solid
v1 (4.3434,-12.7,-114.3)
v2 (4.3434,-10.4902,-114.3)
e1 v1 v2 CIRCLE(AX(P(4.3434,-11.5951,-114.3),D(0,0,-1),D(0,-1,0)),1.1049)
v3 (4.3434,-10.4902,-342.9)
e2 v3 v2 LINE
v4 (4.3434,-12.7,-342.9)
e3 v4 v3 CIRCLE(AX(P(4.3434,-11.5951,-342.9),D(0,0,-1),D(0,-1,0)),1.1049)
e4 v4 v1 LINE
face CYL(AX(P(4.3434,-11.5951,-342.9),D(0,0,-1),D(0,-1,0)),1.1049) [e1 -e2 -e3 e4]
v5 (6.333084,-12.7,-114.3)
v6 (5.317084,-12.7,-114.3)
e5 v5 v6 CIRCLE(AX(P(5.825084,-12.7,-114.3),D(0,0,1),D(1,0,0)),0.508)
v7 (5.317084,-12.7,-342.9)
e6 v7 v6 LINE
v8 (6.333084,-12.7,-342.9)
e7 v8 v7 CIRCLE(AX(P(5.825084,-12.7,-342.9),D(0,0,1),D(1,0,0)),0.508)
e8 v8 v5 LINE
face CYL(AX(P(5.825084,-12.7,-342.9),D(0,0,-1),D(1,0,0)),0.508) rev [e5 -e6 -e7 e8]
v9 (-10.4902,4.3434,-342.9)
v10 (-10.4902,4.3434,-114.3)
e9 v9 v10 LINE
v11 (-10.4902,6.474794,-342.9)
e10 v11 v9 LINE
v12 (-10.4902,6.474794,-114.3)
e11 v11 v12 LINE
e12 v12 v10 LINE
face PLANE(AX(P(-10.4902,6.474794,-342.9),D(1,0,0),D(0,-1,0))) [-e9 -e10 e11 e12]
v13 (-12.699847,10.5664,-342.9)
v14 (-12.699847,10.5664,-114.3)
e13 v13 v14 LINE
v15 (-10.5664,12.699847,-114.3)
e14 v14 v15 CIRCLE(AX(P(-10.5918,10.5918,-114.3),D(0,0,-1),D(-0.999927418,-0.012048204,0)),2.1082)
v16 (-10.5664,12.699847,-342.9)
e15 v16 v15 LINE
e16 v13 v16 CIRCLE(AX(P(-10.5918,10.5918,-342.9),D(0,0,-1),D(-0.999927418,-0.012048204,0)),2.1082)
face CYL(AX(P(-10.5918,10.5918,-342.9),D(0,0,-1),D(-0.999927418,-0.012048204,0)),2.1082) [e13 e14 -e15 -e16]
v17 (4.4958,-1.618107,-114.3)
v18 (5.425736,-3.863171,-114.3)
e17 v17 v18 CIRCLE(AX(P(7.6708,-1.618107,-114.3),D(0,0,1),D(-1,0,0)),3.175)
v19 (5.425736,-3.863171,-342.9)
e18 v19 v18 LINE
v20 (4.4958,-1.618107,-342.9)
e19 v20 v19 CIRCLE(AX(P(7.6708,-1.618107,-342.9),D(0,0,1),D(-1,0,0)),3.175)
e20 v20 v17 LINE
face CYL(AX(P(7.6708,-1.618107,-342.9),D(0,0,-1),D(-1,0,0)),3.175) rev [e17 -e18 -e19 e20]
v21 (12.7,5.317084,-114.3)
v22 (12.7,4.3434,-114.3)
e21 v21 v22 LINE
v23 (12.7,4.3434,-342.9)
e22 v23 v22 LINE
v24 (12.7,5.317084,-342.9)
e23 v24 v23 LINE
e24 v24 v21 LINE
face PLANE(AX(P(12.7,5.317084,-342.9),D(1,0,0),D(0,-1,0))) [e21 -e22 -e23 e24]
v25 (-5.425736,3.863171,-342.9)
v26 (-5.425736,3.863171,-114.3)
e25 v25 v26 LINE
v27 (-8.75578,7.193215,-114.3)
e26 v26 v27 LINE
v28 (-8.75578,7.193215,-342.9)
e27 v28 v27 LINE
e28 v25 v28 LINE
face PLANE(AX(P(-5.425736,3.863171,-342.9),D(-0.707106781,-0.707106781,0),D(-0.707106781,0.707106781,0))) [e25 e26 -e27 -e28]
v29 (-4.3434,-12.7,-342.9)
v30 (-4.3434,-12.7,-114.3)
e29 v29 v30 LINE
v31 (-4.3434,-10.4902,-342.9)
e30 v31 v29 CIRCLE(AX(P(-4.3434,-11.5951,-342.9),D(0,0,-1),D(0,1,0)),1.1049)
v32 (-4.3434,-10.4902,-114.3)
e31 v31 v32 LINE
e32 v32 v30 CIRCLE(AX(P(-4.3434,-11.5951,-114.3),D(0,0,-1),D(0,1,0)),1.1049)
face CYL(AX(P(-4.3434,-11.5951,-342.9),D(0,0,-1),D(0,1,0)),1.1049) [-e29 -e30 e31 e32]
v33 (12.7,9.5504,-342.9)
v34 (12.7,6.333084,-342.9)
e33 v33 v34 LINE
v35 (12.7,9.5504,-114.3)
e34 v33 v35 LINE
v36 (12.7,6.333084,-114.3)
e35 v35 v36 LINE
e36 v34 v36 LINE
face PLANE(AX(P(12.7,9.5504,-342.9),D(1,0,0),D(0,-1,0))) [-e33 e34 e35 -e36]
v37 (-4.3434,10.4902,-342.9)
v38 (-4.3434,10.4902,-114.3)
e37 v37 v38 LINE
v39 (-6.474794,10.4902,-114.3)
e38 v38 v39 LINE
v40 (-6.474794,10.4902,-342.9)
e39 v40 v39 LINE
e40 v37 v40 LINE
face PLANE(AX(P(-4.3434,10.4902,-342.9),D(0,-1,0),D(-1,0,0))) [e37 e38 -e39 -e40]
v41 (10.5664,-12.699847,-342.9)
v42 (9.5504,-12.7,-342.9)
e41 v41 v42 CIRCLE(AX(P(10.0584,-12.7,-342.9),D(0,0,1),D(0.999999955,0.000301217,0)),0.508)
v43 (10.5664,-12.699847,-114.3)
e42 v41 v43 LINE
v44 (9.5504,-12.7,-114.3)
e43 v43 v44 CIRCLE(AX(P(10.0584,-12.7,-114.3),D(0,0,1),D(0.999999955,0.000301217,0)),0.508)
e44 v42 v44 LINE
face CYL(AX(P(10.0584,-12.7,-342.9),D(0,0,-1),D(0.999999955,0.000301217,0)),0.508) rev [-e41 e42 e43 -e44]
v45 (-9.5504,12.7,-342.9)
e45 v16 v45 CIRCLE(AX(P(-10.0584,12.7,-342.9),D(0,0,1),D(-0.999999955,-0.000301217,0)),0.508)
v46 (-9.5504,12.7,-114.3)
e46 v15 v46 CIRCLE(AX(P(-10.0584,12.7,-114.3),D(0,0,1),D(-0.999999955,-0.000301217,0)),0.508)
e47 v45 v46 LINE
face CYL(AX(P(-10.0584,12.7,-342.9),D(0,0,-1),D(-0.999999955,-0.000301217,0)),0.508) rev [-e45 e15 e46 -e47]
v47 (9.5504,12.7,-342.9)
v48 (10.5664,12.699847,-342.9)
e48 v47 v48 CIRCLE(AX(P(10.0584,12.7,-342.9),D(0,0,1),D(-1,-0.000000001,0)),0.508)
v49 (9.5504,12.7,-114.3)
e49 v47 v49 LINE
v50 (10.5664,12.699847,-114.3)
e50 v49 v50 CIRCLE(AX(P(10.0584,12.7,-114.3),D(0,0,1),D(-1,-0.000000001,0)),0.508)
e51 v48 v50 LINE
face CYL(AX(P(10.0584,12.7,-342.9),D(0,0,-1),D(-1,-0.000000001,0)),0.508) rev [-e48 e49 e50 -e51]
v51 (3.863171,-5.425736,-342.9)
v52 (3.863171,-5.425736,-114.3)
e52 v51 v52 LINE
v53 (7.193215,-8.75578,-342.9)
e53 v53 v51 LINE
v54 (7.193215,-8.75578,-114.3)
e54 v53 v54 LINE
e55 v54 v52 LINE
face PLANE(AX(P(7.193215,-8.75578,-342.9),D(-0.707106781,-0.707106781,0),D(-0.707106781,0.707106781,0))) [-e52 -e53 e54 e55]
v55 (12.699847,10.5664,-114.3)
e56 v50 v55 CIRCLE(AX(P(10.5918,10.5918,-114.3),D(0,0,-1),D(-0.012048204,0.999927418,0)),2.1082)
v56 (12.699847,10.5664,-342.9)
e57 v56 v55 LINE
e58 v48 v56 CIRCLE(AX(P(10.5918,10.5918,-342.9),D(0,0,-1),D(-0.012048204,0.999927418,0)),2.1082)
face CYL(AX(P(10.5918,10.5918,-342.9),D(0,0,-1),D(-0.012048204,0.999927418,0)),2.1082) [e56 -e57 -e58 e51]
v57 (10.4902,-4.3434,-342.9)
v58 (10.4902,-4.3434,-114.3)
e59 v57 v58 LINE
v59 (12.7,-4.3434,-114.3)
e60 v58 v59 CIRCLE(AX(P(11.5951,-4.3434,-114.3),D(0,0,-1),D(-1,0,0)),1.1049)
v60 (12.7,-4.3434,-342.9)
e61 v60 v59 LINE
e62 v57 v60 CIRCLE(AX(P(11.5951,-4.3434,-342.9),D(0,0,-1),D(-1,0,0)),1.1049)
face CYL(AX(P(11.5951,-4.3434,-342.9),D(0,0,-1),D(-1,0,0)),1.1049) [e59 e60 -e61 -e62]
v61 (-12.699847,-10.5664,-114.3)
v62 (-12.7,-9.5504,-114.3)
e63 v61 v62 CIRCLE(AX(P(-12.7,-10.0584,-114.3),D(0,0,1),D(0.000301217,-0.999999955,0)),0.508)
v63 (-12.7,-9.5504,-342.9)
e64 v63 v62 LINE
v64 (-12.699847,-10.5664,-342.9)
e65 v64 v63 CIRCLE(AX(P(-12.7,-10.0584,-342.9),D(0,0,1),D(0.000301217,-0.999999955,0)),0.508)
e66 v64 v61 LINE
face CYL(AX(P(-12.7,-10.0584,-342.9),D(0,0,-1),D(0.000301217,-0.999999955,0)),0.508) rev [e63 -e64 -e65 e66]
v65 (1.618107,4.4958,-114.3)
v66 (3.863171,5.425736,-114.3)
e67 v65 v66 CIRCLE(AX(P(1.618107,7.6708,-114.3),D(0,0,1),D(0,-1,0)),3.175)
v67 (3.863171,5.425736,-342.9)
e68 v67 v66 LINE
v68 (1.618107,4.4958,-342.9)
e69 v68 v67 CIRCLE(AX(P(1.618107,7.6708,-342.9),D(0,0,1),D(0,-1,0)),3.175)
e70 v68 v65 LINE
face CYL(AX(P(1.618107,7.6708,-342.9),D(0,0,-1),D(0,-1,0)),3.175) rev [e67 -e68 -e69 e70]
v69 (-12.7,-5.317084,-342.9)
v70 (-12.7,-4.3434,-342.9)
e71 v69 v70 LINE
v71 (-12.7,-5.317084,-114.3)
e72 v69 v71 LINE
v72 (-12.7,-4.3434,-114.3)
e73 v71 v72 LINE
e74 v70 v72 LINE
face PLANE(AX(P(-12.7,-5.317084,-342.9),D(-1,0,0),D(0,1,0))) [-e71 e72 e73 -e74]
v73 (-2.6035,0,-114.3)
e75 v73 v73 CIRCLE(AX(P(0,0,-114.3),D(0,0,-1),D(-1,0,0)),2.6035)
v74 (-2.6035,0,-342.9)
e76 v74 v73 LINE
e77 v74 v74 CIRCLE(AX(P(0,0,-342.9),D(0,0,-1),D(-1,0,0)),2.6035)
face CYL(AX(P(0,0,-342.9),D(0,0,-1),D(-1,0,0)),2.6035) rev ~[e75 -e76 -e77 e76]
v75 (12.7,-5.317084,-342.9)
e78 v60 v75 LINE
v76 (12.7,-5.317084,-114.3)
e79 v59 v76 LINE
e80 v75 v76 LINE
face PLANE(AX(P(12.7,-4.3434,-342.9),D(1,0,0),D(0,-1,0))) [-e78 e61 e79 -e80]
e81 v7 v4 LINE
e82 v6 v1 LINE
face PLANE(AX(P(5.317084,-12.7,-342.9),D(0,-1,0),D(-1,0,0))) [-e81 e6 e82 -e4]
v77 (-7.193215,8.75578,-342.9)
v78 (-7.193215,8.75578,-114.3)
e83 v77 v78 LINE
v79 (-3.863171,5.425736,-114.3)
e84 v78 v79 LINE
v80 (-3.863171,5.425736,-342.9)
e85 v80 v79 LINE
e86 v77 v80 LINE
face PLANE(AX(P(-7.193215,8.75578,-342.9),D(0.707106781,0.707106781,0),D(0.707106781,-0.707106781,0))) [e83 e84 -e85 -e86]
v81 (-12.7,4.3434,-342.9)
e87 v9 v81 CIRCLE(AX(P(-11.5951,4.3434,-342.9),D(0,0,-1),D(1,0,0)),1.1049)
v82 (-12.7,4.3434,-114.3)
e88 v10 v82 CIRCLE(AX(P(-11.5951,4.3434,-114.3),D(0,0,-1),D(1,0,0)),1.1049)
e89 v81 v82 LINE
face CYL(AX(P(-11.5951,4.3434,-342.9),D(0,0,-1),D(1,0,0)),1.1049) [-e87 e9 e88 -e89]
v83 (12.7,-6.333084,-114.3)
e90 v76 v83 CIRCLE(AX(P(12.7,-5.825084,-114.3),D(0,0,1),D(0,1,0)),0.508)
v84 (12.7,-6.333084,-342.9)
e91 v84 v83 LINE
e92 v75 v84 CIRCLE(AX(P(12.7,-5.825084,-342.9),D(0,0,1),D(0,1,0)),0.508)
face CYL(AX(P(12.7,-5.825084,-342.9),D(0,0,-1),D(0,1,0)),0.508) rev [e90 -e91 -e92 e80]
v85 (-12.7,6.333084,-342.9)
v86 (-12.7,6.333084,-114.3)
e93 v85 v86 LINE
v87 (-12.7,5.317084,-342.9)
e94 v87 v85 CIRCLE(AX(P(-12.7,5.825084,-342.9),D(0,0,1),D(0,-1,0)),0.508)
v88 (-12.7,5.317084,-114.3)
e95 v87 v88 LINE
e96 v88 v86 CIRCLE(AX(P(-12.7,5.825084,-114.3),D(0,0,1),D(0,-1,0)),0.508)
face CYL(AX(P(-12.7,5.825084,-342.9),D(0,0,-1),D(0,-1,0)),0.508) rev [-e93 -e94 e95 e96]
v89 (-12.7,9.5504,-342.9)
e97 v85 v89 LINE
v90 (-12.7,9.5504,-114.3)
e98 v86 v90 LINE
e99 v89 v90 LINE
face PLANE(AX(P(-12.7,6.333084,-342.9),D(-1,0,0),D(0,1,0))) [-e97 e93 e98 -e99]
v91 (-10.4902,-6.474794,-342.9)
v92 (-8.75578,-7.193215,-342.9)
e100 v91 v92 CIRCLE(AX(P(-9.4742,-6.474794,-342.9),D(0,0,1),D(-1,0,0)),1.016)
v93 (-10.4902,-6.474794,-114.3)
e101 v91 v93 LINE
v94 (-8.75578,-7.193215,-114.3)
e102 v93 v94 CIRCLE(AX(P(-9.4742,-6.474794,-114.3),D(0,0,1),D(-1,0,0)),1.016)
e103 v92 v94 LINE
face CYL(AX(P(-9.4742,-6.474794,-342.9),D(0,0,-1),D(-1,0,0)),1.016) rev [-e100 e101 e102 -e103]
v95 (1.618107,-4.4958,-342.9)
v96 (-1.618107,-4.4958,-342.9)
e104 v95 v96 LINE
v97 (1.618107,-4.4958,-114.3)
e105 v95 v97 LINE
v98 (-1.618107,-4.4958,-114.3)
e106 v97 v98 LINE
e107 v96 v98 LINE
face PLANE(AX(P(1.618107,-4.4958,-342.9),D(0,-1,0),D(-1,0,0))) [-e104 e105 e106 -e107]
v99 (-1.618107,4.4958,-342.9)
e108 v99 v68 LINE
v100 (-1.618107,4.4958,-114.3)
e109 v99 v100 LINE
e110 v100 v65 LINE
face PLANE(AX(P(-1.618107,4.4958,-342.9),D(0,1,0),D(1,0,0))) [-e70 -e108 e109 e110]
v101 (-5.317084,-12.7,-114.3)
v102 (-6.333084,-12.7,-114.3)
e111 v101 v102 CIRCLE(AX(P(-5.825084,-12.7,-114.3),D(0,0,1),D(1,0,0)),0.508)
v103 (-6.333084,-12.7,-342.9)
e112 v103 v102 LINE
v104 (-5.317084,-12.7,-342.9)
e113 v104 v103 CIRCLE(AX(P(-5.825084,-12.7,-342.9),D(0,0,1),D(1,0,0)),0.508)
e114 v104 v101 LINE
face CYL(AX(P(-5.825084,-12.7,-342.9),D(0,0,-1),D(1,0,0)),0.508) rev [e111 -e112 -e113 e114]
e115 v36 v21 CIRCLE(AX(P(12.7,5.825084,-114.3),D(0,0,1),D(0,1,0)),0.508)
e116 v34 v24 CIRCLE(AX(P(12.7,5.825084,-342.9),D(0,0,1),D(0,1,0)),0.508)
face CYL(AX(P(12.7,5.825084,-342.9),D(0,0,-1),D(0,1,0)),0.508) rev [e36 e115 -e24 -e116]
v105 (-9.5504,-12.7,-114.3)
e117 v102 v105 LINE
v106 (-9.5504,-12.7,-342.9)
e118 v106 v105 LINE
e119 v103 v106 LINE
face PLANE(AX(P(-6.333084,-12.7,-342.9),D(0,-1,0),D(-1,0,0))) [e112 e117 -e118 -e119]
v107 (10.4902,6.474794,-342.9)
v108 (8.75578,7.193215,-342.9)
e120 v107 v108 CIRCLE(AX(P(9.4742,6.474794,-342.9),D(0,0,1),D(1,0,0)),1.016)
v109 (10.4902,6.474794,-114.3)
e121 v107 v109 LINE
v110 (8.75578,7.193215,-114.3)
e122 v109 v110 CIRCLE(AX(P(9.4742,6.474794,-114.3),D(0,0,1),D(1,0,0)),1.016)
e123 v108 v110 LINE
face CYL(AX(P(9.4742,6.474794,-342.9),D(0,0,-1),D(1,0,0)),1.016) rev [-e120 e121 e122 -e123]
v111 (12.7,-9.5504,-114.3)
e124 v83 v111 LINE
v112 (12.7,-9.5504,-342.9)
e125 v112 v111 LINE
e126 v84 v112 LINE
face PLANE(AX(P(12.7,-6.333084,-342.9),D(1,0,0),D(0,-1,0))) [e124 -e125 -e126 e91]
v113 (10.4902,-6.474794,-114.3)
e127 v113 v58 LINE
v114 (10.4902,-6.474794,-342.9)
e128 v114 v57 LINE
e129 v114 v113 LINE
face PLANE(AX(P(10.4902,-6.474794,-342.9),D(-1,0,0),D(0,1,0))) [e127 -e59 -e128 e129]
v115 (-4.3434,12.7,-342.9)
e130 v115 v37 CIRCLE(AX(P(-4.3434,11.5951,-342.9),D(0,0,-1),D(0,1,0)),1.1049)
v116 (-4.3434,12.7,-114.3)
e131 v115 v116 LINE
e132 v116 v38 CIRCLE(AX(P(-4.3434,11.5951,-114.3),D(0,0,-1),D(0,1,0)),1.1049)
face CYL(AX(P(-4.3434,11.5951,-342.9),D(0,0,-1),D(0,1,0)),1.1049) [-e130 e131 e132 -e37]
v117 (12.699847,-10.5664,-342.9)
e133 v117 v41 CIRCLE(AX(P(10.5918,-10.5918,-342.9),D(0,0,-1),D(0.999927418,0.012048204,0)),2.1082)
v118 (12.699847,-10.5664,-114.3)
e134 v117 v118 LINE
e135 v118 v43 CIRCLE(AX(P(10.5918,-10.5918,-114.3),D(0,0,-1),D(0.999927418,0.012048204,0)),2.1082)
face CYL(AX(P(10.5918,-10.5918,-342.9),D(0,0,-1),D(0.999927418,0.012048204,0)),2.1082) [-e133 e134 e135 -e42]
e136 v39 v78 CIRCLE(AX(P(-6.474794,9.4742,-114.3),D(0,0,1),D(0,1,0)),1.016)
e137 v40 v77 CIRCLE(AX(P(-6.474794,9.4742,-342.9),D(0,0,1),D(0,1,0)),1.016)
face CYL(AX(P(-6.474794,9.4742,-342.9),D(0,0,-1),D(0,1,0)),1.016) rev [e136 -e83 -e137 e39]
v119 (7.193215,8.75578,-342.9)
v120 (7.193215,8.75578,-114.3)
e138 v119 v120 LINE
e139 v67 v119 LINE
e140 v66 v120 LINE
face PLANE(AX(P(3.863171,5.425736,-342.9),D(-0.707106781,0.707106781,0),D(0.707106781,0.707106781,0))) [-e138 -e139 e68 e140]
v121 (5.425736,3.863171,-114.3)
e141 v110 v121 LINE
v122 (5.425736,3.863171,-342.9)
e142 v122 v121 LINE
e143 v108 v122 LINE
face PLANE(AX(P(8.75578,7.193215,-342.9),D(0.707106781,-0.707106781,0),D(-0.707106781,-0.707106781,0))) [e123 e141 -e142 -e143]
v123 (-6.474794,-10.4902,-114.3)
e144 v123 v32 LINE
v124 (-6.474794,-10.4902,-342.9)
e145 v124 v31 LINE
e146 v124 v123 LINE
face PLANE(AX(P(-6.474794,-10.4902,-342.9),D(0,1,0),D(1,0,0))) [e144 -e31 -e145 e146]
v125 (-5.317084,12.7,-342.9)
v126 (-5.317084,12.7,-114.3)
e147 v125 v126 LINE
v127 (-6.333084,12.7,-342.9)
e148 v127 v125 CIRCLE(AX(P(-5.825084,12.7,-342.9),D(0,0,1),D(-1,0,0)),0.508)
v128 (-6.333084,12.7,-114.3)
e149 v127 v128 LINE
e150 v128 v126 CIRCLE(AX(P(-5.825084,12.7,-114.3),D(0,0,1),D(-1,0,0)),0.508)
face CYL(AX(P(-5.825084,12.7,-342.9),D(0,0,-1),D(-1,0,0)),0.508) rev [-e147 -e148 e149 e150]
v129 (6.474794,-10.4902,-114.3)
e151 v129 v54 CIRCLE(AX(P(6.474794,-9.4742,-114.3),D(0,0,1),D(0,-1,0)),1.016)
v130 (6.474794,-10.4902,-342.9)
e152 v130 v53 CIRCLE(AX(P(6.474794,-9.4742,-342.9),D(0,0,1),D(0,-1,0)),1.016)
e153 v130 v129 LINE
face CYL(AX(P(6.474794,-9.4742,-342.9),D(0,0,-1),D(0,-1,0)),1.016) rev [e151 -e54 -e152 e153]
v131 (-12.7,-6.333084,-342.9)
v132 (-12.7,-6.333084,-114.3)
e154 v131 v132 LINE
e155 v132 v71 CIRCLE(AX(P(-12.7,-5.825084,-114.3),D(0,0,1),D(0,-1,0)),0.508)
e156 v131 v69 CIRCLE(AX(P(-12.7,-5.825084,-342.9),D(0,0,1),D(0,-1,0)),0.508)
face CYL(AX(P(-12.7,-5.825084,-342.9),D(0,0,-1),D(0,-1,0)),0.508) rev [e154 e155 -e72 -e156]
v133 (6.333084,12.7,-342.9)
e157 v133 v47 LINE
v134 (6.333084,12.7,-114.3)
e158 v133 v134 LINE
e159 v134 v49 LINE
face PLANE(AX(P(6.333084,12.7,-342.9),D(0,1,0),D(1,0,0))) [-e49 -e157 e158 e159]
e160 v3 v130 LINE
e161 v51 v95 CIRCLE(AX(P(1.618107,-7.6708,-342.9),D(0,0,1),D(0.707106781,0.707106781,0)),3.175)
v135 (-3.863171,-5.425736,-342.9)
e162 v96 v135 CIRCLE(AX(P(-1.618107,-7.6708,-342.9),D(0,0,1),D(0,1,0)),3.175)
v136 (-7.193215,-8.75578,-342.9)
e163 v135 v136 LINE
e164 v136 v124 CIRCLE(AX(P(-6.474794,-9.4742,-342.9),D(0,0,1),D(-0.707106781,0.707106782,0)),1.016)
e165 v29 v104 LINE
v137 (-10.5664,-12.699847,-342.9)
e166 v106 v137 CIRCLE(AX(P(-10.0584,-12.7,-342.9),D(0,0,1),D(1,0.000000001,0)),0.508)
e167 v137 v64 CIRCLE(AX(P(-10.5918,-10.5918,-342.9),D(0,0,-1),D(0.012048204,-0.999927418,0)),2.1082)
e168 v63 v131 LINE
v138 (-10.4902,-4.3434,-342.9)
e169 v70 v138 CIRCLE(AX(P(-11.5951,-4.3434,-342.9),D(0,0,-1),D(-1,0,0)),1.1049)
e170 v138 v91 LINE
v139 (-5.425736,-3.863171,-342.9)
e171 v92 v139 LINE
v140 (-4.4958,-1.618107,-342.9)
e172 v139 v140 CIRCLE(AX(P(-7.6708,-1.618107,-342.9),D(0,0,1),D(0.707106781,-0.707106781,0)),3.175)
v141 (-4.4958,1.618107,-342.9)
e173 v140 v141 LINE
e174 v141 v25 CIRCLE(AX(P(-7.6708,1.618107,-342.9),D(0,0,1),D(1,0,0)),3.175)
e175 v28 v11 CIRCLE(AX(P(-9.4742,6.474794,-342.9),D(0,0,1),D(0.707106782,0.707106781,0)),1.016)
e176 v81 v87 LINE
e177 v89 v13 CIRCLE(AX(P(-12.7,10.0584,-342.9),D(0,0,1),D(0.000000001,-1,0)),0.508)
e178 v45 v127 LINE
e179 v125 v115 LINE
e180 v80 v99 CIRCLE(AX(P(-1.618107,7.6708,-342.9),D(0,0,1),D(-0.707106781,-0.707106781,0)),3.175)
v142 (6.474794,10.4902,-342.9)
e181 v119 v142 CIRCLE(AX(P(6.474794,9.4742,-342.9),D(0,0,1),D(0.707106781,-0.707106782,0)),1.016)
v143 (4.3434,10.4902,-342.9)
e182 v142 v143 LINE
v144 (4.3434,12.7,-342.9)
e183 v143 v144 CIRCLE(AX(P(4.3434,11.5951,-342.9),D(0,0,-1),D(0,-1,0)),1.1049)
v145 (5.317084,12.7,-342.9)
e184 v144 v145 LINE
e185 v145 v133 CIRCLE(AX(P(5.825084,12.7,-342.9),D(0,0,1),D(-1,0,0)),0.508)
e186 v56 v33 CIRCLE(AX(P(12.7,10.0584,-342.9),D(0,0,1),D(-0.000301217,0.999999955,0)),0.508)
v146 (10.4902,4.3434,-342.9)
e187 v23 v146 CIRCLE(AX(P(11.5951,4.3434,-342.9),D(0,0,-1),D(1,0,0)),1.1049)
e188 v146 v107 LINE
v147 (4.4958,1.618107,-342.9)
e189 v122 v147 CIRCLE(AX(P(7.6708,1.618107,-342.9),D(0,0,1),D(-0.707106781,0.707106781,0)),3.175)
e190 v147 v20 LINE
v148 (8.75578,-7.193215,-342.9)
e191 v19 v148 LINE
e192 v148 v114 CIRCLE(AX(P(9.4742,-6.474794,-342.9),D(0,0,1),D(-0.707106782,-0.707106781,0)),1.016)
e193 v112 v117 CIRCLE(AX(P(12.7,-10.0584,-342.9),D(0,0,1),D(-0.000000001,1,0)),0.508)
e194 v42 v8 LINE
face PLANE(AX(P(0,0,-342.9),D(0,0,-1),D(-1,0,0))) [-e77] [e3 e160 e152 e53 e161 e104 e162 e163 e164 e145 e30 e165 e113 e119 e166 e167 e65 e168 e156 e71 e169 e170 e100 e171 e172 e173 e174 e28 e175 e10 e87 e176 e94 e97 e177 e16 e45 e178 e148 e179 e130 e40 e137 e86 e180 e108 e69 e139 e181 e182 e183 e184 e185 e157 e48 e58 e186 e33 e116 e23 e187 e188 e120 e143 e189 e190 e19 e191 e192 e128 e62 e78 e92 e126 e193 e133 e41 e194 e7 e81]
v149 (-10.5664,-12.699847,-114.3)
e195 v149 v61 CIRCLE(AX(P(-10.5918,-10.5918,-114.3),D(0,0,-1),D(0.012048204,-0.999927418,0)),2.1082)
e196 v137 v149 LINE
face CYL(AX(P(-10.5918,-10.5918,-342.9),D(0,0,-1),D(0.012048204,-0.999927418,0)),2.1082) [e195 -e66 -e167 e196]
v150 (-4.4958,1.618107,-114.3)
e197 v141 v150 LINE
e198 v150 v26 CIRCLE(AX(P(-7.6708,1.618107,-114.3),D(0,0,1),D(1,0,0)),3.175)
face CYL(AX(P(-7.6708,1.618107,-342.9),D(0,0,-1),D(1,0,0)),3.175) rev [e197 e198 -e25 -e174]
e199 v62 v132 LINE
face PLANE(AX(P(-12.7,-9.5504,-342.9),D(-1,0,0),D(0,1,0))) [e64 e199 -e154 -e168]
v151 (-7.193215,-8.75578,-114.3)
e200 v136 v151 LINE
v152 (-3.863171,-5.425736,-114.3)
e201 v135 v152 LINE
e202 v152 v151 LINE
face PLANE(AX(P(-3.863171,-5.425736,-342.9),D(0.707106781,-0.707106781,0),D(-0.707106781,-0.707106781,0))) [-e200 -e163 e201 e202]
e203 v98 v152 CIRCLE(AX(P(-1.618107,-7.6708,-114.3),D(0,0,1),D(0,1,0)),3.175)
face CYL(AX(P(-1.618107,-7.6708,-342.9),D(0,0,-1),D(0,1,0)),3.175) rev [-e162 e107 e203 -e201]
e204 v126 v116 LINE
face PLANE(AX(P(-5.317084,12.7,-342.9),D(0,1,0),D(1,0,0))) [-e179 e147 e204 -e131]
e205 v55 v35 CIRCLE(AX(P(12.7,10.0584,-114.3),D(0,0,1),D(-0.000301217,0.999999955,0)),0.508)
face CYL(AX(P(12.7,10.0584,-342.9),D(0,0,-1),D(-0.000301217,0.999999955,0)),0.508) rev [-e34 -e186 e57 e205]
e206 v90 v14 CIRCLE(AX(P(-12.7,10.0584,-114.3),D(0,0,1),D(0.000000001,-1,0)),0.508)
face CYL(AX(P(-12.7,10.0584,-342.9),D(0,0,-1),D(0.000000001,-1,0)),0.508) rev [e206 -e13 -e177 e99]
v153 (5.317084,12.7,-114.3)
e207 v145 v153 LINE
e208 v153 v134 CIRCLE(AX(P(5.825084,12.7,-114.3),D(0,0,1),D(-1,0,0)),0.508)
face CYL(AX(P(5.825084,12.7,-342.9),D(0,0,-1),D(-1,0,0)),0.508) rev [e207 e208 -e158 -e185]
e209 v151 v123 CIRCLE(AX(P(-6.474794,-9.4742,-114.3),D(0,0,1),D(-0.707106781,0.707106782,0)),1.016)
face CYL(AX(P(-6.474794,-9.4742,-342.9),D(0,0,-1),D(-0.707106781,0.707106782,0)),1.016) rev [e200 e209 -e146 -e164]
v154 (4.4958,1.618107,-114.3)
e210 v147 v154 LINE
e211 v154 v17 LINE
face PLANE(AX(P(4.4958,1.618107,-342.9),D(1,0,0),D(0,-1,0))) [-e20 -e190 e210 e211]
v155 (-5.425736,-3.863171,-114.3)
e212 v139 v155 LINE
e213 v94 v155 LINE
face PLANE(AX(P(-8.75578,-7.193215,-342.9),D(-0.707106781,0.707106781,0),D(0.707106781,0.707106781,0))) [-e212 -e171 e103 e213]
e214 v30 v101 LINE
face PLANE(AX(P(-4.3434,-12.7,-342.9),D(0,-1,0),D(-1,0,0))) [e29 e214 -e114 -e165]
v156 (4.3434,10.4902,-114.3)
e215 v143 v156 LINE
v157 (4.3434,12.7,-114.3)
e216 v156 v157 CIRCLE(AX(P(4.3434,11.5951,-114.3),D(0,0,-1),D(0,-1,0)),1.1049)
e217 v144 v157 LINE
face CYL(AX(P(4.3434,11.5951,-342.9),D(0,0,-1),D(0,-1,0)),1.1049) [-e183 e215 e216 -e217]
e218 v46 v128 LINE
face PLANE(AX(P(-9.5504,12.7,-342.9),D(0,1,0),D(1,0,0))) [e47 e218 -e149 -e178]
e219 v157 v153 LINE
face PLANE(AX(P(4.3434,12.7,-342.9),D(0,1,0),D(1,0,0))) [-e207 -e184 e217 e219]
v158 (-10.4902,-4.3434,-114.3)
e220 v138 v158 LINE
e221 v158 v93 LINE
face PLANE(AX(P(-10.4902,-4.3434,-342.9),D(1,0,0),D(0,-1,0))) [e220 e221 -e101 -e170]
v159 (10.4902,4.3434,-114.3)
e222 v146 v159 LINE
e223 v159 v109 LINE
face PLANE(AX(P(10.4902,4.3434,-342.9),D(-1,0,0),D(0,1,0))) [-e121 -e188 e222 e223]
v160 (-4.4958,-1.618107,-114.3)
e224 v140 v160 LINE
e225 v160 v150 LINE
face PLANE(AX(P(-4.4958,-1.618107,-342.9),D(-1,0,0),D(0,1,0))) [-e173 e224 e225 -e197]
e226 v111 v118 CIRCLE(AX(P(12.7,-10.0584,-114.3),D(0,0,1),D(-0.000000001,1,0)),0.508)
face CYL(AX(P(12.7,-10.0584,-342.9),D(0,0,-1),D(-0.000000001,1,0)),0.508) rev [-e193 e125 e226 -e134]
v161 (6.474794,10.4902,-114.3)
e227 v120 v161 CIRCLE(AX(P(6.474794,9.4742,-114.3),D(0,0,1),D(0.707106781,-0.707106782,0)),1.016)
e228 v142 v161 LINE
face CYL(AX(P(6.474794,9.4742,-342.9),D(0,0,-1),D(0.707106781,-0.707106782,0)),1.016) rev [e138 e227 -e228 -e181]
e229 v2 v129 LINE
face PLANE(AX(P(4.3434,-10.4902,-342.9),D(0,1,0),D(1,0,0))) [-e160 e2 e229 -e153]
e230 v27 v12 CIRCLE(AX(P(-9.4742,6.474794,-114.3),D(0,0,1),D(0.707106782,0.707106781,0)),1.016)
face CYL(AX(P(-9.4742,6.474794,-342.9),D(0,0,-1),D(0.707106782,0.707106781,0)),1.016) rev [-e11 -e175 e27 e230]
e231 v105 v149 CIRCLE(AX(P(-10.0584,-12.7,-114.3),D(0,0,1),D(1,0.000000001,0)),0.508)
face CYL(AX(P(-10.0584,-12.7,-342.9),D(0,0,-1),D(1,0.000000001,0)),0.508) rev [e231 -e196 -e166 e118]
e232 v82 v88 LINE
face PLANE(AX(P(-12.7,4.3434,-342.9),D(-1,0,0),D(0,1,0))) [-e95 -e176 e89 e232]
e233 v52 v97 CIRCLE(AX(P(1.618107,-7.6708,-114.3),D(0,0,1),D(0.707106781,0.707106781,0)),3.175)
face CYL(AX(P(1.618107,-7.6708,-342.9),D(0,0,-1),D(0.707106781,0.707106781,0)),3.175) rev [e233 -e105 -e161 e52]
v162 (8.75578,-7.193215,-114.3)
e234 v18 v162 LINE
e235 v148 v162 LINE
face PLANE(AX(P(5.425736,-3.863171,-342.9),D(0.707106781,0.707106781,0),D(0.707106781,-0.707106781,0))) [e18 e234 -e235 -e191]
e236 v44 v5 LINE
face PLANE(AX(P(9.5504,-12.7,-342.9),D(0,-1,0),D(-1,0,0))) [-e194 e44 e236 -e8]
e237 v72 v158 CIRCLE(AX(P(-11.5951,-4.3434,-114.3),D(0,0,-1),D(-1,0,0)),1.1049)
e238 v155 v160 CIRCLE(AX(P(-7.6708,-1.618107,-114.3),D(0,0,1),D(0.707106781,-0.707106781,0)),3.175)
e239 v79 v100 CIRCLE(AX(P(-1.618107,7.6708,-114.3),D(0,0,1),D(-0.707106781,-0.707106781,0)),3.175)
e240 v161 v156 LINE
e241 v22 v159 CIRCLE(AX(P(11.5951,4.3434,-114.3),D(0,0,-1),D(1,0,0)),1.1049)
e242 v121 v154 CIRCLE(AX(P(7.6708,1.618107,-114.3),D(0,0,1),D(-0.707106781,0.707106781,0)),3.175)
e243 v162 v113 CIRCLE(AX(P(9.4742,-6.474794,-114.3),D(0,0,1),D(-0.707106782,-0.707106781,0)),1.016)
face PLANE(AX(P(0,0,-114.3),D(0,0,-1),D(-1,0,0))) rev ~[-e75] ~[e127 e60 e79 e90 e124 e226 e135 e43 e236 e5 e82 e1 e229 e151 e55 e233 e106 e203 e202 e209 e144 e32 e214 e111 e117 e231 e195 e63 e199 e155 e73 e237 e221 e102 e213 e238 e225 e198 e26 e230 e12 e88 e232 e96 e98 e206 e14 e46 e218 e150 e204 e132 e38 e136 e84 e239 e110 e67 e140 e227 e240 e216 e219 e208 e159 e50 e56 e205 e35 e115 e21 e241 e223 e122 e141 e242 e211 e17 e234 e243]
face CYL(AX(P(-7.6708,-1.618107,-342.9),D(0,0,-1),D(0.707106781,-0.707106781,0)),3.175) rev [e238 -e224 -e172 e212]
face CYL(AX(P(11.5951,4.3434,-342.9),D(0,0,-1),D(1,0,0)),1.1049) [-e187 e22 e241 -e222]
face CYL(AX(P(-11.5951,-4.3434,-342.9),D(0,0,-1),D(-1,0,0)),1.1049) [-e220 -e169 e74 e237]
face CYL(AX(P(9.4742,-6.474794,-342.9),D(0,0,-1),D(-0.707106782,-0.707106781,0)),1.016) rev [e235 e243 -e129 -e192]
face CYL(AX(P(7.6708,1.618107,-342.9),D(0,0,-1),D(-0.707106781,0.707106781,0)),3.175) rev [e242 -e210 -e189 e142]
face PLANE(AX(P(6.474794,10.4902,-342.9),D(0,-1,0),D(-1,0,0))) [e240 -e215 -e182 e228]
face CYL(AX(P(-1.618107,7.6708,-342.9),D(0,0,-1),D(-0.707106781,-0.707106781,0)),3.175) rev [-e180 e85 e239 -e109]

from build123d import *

# Parameters (mm, degrees)
SKETCH1_R           = 2.6035
BOSS_EXTRUDE1_DEPTH = 228.6


with BuildPart() as part:
    # Sketch1 → Boss-Extrude1 (new body)
    with BuildSketch(Plane(origin=(0, 0, -342.9), x_dir=(-1, 0, 0), z_dir=(0, 0, -1))):
        with BuildLine():
            Line((12.7, -9.5504), (12.7, -6.3330836))
            ThreePointArc((12.7, -6.3330836), (12.192, -5.8250836), (12.7, -5.3170836))
            Line((12.7, -5.3170836), (12.7, -4.3434))
            ThreePointArc((12.7, -4.3434), (11.5951, -3.2385), (10.4902, -4.3434))
            Line((10.4902, -4.3434), (10.4902, -6.474794456))
            ThreePointArc((10.4902, -6.474794456), (9.863006367, -7.413456061), (8.75577951, -7.193214945))
            Line((8.75577951, -7.193214945), (5.42573597, -3.863171405))
            ThreePointArc((5.42573597, -3.863171405), (4.737482484, -2.833127272), (4.4958, -1.618107374))
            Line((4.4958, -1.618107374), (4.4958, 1.618107374))
            ThreePointArc((4.4958, 1.618107374), (4.737482484, 2.833127272), (5.42573597, 3.863171405))
            Line((5.42573597, 3.863171405), (8.75577951, 7.193214945))
            ThreePointArc((8.75577951, 7.193214945), (9.863006367, 7.413456061), (10.4902, 6.474794456))
            Line((10.4902, 6.474794456), (10.4902, 4.343399971))
            ThreePointArc((10.4902, 4.343399971), (11.5951, 3.238499971), (12.7, 4.343399971))
            Line((12.7, 4.343399971), (12.7, 5.3170836))
            ThreePointArc((12.7, 5.3170836), (12.192, 5.8250836), (12.7, 6.3330836))
            Line((12.7, 6.3330836), (12.7, 9.5504))
            ThreePointArc((12.7, 9.5504), (12.192000006, 10.058323491), (12.699846982, 10.566399977))
            ThreePointArc((12.699846982, 10.566399977), (12.082522516, 12.082522516), (10.566399977, 12.699846982))
            ThreePointArc((10.566399977, 12.699846982), (10.058323491, 12.192000006), (9.5504, 12.7))
            Line((9.5504, 12.7), (6.3330836, 12.7))
            ThreePointArc((6.3330836, 12.7), (5.8250836, 12.192), (5.3170836, 12.7))
            Line((5.3170836, 12.7), (4.3434, 12.7))
            ThreePointArc((4.3434, 12.7), (3.2385, 11.5951), (4.3434, 10.4902))
            Line((4.3434, 10.4902), (6.474794456, 10.4902))
            ThreePointArc((6.474794456, 10.4902), (7.413456061, 9.863006367), (7.193214945, 8.75577951))
            Line((7.193214945, 8.75577951), (3.863171405, 5.42573597))
            ThreePointArc((3.863171405, 5.42573597), (2.833127272, 4.737482484), (1.618107374, 4.4958))
            Line((1.618107374, 4.4958), (-1.618107374, 4.4958))
            ThreePointArc((-1.618107374, 4.4958), (-2.833127272, 4.737482484), (-3.863171405, 5.42573597))
            Line((-3.863171405, 5.42573597), (-7.193214945, 8.75577951))
            ThreePointArc((-7.193214945, 8.75577951), (-7.413456061, 9.863006367), (-6.474794456, 10.4902))
            Line((-6.474794456, 10.4902), (-4.343399971, 10.4902))
            ThreePointArc((-4.343399971, 10.4902), (-3.238499971, 11.5951), (-4.343399971, 12.7))
            Line((-4.343399971, 12.7), (-5.3170836, 12.7))
            ThreePointArc((-5.3170836, 12.7), (-5.8250836, 12.192), (-6.3330836, 12.7))
            Line((-6.3330836, 12.7), (-9.5504, 12.7))
            ThreePointArc((-9.5504, 12.7), (-10.058323491, 12.192000006), (-10.566399977, 12.699846982))
            ThreePointArc((-10.566399977, 12.699846982), (-12.082522516, 12.082522516), (-12.699846982, 10.566399977))
            ThreePointArc((-12.699846982, 10.566399977), (-12.192000006, 10.058323491), (-12.7, 9.5504))
            Line((-12.7, 9.5504), (-12.7, 6.3330836))
            ThreePointArc((-12.7, 6.3330836), (-12.192, 5.8250836), (-12.7, 5.3170836))
            Line((-12.7, 5.3170836), (-12.7, 4.3434))
            ThreePointArc((-12.7, 4.3434), (-11.5951, 3.2385), (-10.4902, 4.3434))
            Line((-10.4902, 4.3434), (-10.4902, 6.474794456))
            ThreePointArc((-10.4902, 6.474794456), (-9.863006367, 7.413456061), (-8.75577951, 7.193214945))
            Line((-8.75577951, 7.193214945), (-5.42573597, 3.863171405))
            ThreePointArc((-5.42573597, 3.863171405), (-4.737482484, 2.833127272), (-4.4958, 1.618107374))
            Line((-4.4958, 1.618107374), (-4.4958, -1.618107374))
            ThreePointArc((-4.4958, -1.618107374), (-4.737482484, -2.833127272), (-5.42573597, -3.863171405))
            Line((-5.42573597, -3.863171405), (-8.75577951, -7.193214945))
            ThreePointArc((-8.75577951, -7.193214945), (-9.863006367, -7.413456061), (-10.4902, -6.474794456))
            Line((-10.4902, -6.474794456), (-10.4902, -4.343399971))
            ThreePointArc((-10.4902, -4.343399971), (-11.5951, -3.238499971), (-12.7, -4.343399971))
            Line((-12.7, -4.343399971), (-12.7, -5.3170836))
            ThreePointArc((-12.7, -5.3170836), (-12.192, -5.8250836), (-12.7, -6.3330836))
            Line((-12.7, -6.3330836), (-12.7, -9.5504))
            ThreePointArc((-12.7, -9.5504), (-12.192000006, -10.058323491), (-12.699846982, -10.566399977))
            ThreePointArc((-12.699846982, -10.566399977), (-12.082522516, -12.082522516), (-10.566399977, -12.699846982))
            ThreePointArc((-10.566399977, -12.699846982), (-10.058323491, -12.192000006), (-9.5504, -12.7))
            Line((-9.5504, -12.7), (-6.3330836, -12.7))
            ThreePointArc((-6.3330836, -12.7), (-5.8250836, -12.192), (-5.3170836, -12.7))
            Line((-5.3170836, -12.7), (-4.3434, -12.7))
            ThreePointArc((-4.3434, -12.7), (-3.2385, -11.5951), (-4.3434, -10.4902))
            Line((-4.3434, -10.4902), (-6.474794456, -10.4902))
            ThreePointArc((-6.474794456, -10.4902), (-7.413456061, -9.863006367), (-7.193214945, -8.75577951))
            Line((-7.193214945, -8.75577951), (-3.863171405, -5.42573597))
            ThreePointArc((-3.863171405, -5.42573597), (-2.833127272, -4.737482484), (-1.618107374, -4.4958))
            Line((-1.618107374, -4.4958), (1.618107374, -4.4958))
            ThreePointArc((1.618107374, -4.4958), (2.833127272, -4.737482484), (3.863171405, -5.42573597))
            Line((3.863171405, -5.42573597), (7.193214945, -8.75577951))
            ThreePointArc((7.193214945, -8.75577951), (7.413456061, -9.863006367), (6.474794456, -10.4902))
            Line((6.474794456, -10.4902), (4.343399971, -10.4902))
            ThreePointArc((4.343399971, -10.4902), (3.238499971, -11.5951), (4.343399971, -12.7))
            Line((4.343399971, -12.7), (5.3170836, -12.7))
            ThreePointArc((5.3170836, -12.7), (5.8250836, -12.192), (6.3330836, -12.7))
            Line((6.3330836, -12.7), (9.5504, -12.7))
            ThreePointArc((9.5504, -12.7), (10.058323491, -12.192000006), (10.566399977, -12.699846982))
            ThreePointArc((10.566399977, -12.699846982), (12.082522516, -12.082522516), (12.699846982, -10.566399977))
            ThreePointArc((12.699846982, -10.566399977), (12.192000006, -10.058323491), (12.7, -9.5504))
        make_face()
        Circle(SKETCH1_R, mode=Mode.SUBTRACT)
    extrude(amount=-BOSS_EXTRUDE1_DEPTH)


solid = part.part
